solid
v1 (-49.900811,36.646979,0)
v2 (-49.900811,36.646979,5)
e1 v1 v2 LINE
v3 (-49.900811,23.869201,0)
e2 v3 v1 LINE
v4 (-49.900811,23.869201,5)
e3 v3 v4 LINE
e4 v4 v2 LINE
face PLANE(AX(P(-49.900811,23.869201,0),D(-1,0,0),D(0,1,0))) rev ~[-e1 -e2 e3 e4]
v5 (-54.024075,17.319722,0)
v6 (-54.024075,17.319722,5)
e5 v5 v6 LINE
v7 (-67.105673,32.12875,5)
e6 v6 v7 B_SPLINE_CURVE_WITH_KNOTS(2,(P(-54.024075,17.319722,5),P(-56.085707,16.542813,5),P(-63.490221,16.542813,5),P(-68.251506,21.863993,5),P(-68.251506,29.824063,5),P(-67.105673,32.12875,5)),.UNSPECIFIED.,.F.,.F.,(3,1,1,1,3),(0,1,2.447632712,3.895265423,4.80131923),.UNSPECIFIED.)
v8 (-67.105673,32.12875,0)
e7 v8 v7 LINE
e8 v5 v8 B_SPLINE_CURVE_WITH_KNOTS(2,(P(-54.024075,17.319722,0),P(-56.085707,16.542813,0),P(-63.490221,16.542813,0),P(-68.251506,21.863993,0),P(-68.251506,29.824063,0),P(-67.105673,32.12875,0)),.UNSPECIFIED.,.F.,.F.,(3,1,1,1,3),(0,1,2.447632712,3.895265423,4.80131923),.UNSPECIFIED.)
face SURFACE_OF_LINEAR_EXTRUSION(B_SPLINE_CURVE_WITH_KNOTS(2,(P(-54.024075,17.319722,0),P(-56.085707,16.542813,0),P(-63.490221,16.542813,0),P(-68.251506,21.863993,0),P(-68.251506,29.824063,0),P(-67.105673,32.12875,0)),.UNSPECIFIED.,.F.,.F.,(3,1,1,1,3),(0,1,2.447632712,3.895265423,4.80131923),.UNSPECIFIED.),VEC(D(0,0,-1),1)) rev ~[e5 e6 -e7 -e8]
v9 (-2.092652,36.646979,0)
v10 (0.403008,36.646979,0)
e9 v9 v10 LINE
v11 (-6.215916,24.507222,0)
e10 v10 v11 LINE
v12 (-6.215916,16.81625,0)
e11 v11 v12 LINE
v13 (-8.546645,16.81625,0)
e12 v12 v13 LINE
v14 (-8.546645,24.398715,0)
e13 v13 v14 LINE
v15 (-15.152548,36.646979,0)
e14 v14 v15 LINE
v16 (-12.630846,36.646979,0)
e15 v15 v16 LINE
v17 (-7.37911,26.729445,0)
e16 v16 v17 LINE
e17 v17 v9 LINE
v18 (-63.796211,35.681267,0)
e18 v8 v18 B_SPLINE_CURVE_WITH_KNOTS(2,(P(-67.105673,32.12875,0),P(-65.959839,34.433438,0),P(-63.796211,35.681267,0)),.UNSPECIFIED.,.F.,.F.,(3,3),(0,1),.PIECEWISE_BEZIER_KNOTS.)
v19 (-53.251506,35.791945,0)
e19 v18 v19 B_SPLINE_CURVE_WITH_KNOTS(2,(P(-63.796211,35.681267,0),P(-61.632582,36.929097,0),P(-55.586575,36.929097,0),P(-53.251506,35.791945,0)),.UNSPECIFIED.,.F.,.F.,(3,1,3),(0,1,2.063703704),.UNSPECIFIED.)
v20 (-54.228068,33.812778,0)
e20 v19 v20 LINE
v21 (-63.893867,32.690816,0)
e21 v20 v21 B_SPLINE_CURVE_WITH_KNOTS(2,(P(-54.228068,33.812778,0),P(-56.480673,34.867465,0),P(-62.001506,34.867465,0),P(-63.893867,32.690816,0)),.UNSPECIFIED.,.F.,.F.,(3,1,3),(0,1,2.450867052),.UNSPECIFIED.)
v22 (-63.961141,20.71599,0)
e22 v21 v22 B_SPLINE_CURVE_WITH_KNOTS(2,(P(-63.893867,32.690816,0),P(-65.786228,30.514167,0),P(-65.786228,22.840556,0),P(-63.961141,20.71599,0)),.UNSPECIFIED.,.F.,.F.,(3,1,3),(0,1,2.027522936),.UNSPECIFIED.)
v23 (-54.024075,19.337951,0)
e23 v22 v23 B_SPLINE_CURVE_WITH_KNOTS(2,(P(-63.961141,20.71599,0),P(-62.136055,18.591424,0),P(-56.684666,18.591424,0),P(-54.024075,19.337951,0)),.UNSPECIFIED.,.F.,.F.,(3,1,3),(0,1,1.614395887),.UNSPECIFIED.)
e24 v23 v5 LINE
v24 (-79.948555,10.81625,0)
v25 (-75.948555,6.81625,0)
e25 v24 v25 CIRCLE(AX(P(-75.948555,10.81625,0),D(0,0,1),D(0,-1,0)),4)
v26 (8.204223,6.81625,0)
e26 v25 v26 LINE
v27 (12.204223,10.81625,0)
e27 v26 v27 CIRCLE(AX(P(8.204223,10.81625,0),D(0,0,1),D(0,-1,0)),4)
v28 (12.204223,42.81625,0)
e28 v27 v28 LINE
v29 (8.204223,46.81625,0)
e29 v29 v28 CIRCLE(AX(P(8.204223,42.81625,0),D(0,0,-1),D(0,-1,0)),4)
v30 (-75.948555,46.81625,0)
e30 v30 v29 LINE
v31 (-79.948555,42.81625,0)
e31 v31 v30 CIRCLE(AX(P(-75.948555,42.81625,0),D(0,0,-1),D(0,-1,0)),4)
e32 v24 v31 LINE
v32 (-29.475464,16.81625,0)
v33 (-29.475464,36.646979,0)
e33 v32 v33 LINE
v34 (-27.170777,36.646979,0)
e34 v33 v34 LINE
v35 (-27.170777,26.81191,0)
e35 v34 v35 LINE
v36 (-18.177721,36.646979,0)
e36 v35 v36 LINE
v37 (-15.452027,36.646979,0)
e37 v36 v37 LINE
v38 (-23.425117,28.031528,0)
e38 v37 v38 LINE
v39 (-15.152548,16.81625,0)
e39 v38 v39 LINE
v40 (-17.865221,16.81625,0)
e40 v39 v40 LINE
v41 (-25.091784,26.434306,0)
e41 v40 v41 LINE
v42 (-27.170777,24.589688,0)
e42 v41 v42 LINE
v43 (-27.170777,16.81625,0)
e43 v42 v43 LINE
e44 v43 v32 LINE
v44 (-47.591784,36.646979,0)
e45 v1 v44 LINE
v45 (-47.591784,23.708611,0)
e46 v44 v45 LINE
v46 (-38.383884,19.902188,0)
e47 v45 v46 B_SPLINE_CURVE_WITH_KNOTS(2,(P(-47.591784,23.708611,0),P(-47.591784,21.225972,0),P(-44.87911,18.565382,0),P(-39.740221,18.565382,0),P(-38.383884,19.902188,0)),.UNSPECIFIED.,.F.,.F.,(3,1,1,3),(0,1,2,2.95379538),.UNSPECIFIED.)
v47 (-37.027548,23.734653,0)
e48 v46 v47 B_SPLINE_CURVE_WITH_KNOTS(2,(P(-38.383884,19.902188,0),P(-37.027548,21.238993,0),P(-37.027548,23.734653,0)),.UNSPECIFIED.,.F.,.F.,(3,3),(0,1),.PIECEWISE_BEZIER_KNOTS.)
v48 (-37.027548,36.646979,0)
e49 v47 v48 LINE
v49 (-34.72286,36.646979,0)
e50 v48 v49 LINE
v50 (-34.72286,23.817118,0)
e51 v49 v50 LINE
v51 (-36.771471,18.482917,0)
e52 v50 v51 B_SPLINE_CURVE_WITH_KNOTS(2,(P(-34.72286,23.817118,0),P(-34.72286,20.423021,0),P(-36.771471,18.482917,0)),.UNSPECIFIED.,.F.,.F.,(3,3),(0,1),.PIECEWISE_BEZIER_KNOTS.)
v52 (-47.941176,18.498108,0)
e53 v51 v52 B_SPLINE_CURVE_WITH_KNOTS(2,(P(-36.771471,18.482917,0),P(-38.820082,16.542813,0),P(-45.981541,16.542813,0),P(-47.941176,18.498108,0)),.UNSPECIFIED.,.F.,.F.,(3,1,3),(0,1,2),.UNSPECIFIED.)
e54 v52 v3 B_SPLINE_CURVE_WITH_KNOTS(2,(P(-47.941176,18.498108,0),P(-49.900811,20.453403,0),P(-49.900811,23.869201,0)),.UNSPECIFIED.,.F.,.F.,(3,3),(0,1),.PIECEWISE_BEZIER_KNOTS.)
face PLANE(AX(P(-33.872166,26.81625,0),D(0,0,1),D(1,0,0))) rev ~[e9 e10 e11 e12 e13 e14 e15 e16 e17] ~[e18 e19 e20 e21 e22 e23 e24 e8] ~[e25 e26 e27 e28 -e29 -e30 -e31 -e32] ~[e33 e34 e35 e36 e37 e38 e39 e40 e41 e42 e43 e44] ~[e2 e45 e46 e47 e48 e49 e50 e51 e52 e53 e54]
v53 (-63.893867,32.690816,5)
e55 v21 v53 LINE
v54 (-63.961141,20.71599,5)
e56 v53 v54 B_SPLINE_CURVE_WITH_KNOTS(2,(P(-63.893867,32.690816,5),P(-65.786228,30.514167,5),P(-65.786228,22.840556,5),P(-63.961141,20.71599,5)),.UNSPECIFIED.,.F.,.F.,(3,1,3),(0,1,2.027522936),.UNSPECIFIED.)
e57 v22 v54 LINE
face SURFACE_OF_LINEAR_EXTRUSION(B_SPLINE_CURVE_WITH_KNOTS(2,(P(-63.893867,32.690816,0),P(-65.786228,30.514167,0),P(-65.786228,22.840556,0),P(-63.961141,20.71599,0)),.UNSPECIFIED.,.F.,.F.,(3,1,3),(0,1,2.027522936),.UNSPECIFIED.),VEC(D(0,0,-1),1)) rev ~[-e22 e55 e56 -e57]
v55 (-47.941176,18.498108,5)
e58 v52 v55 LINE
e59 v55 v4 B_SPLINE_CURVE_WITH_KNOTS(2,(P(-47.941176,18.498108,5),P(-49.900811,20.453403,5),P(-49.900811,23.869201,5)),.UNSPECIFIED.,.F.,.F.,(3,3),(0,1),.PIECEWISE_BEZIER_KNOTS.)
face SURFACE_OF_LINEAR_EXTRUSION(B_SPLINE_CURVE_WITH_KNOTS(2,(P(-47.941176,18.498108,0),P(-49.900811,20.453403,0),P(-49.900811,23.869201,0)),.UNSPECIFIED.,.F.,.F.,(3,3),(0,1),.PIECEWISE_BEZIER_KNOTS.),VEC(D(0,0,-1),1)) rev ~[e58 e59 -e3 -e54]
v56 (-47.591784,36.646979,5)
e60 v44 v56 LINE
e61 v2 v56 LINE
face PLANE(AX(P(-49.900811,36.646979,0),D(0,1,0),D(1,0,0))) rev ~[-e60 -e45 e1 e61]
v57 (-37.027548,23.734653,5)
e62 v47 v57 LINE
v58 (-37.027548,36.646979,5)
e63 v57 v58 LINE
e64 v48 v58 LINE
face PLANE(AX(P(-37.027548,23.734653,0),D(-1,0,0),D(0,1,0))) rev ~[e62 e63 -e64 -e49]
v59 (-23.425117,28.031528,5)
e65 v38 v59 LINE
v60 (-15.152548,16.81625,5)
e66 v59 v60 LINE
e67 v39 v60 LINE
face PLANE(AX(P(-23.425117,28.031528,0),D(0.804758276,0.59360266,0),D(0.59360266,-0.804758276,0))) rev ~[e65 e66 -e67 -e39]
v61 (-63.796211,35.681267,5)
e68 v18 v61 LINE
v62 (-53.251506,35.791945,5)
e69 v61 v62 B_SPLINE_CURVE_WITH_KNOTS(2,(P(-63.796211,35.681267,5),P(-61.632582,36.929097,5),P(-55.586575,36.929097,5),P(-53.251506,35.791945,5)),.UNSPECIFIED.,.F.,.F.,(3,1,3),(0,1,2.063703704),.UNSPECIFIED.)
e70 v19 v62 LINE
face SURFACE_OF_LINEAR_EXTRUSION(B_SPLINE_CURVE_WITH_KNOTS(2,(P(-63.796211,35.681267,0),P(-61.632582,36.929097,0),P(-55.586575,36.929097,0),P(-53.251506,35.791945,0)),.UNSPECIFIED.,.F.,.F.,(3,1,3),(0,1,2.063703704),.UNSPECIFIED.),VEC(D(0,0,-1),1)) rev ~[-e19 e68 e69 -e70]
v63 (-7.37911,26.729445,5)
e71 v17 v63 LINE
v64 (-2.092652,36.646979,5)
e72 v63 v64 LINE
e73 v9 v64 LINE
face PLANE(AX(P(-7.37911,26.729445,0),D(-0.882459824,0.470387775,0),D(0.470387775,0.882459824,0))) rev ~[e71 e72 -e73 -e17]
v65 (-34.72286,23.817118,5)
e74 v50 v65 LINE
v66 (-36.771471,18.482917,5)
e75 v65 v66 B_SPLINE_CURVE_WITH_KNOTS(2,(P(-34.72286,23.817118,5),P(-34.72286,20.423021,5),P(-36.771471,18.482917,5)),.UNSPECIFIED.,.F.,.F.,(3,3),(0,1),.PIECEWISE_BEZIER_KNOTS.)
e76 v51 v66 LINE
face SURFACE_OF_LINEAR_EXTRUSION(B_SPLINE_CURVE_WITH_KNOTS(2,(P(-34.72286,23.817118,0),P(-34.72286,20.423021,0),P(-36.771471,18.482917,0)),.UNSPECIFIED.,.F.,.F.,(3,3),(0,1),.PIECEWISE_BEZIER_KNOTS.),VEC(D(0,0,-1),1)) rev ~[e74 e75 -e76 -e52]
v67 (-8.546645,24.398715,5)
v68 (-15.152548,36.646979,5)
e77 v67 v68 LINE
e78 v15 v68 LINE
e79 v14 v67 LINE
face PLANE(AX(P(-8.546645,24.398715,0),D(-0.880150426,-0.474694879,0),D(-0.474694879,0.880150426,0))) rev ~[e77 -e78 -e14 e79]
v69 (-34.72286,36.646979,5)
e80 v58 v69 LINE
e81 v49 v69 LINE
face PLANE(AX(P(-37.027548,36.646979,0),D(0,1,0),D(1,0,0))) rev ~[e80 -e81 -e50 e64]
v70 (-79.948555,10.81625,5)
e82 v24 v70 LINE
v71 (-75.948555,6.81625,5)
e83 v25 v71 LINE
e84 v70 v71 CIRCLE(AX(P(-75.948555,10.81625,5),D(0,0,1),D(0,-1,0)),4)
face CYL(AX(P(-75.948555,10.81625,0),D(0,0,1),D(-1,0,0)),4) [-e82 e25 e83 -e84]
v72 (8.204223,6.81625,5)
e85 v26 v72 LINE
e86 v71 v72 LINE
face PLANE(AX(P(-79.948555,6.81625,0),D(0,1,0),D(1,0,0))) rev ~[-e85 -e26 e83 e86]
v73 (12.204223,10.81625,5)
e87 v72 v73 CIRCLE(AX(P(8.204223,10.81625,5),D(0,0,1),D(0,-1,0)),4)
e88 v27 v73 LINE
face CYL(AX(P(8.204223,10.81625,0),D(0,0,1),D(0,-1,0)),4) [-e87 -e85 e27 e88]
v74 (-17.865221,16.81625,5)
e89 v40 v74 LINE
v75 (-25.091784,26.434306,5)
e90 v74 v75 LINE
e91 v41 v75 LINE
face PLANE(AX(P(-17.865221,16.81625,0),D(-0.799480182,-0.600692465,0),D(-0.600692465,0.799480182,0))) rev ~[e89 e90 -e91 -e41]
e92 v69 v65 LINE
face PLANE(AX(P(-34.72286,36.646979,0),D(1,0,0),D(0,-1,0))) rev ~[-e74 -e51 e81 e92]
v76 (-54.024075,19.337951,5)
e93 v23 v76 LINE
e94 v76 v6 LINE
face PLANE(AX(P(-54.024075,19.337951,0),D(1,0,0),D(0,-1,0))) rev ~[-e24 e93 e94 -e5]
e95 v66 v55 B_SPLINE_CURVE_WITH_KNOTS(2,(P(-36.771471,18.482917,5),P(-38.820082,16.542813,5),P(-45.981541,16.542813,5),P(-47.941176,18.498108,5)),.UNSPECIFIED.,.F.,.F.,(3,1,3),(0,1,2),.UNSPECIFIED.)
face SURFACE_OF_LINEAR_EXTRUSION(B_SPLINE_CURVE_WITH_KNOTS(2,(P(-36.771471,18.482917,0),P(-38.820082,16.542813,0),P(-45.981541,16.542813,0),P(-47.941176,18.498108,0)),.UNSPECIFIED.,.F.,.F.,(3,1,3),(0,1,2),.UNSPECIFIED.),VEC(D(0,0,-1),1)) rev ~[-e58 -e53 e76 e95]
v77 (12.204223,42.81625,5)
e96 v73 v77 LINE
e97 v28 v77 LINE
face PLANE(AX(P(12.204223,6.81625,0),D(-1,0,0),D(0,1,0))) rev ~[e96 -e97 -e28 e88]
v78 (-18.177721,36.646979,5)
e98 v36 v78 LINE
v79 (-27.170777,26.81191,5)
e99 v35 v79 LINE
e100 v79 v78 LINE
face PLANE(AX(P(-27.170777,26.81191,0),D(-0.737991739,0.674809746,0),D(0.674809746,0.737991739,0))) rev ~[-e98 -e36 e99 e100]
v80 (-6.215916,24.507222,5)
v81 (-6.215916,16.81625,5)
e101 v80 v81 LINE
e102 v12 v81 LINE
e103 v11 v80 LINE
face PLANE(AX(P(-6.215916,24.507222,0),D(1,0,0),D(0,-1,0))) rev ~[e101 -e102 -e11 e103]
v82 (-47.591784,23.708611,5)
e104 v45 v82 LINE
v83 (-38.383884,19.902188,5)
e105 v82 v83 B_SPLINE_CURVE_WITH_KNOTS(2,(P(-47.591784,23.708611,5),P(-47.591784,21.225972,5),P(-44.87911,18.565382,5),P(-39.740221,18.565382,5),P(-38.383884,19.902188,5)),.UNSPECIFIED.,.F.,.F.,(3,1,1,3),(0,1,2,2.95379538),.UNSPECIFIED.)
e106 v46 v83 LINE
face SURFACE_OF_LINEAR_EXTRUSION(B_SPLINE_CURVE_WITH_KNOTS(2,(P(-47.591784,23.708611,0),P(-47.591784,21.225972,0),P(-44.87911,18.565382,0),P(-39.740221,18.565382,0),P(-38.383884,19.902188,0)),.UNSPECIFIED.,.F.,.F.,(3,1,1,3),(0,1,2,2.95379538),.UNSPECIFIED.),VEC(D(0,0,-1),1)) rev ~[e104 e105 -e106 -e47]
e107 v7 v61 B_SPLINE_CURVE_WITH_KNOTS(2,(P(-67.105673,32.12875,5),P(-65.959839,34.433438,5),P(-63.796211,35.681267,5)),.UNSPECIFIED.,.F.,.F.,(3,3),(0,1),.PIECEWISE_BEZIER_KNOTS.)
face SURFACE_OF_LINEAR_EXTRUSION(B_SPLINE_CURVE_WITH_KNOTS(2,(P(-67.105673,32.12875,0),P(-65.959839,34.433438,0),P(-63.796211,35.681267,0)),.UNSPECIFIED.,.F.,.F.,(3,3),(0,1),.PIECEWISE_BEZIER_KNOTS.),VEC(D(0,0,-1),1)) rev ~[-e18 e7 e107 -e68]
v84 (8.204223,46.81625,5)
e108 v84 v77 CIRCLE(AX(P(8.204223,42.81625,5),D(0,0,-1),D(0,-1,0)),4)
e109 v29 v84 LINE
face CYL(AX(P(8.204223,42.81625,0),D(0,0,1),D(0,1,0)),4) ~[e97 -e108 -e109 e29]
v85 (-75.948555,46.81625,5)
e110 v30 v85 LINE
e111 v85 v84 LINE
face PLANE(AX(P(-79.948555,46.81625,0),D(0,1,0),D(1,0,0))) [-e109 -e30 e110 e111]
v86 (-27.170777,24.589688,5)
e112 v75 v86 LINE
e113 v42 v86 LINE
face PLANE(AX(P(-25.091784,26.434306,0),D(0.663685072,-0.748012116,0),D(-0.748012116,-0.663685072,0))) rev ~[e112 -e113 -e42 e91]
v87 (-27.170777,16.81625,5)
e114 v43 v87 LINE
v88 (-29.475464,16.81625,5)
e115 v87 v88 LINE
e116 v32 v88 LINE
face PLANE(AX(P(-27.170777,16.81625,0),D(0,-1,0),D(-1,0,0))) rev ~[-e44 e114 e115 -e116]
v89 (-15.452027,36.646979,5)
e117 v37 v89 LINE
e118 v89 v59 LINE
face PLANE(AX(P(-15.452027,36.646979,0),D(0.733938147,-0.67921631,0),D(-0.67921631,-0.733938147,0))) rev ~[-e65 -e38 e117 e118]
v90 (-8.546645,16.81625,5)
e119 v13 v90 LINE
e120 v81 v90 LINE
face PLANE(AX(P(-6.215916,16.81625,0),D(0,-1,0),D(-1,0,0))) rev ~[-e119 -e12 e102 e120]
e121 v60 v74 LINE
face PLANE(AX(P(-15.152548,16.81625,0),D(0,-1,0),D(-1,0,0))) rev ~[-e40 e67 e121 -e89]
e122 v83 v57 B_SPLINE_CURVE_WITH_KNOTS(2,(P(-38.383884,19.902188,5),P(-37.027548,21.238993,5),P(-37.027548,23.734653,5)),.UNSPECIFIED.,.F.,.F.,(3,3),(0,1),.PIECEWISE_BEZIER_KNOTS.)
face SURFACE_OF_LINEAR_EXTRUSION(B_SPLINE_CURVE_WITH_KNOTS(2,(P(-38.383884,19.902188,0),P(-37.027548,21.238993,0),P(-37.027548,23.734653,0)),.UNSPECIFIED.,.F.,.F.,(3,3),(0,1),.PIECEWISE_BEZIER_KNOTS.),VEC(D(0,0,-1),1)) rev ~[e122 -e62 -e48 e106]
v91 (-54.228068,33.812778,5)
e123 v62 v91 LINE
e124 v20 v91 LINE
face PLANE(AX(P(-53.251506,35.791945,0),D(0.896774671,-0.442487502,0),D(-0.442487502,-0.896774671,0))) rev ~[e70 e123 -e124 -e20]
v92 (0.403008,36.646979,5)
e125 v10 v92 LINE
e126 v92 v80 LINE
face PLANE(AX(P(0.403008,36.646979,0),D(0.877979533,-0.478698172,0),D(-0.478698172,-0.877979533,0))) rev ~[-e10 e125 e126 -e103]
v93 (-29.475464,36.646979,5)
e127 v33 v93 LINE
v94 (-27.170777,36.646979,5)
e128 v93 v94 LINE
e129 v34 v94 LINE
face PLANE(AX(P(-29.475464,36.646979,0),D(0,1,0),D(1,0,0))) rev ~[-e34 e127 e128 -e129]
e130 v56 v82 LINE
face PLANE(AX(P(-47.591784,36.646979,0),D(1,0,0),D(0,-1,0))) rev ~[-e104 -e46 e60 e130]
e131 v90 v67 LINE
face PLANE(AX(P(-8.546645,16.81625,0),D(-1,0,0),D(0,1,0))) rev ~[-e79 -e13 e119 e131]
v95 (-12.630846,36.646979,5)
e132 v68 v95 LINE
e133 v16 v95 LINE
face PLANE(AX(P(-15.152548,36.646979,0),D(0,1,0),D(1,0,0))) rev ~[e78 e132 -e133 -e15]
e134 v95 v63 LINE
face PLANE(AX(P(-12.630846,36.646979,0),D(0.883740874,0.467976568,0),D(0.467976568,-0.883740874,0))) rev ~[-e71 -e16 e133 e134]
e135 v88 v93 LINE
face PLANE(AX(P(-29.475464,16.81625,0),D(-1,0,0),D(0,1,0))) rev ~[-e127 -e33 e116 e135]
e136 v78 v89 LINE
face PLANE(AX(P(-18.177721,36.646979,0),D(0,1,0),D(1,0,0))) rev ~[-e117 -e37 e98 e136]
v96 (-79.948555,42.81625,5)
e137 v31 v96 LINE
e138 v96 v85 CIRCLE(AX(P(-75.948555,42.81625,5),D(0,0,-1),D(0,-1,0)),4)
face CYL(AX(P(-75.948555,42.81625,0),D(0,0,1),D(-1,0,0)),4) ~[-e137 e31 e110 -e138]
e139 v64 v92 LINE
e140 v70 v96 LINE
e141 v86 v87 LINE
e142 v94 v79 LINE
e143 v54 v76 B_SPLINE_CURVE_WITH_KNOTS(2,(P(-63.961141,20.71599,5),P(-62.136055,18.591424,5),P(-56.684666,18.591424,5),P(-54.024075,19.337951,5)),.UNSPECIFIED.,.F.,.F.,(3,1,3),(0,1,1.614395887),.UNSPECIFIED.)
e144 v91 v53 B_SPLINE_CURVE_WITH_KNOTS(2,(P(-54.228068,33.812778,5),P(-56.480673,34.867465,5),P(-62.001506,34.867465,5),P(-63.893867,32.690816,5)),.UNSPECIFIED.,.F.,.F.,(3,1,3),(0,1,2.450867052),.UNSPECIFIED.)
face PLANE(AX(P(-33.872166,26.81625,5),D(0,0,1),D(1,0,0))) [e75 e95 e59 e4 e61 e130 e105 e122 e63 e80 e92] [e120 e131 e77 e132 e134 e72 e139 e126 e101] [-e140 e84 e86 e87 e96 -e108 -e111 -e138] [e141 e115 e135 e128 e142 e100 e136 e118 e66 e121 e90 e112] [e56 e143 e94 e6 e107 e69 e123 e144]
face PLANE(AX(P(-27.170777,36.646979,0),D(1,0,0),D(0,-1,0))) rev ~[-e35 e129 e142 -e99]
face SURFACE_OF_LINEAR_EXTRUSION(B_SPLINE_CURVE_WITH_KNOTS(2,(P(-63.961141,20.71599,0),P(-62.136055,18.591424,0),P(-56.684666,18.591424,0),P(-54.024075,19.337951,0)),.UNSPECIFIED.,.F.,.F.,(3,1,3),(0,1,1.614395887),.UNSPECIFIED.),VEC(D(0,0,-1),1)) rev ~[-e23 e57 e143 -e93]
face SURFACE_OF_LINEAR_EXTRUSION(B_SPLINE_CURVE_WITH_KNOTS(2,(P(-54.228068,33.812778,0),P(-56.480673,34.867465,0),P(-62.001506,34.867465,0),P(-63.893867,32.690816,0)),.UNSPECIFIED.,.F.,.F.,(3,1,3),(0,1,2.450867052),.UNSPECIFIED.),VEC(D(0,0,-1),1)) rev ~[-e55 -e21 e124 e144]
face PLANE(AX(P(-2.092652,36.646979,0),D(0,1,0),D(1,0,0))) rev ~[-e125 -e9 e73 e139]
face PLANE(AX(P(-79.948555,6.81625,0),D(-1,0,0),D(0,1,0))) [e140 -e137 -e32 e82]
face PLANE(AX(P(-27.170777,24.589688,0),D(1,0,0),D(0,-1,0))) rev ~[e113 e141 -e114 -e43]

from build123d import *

# Parameters (mm, degrees)
F0_W     = 92.1527777778
F0_H     = 40
F1_DEPTH = 5
F2_R     = 4


with BuildPart() as f1:
    # F0 (on Top) → F1 (new body)
    with BuildSketch(Plane.XY):
        with Locations((-33.8721656561, 26.8162500644)):
            Rectangle(F0_W, F0_H)
        with BuildLine():
            add(Edge.make_bspline(
                [(-54.2280684339, 33.8127778422), (-56.4806726005, 34.8674653422), (-58.7332767672, 34.8674653422)],
                knots=[0, 0, 0, 1, 1, 1], degree=2))
            add(Edge.make_bspline(
                [(-58.7332767672, 34.8674653422), (-62.0015059339, 34.8674653422), (-63.893867045, 32.6908160367)],
                knots=[0, 0, 0, 1, 1, 1], degree=2))
            add(Edge.make_bspline(
                [(-63.893867045, 32.6908160367), (-65.7862281561, 30.5141667311), (-65.7862281561, 26.7294445089)],
                knots=[0, 0, 0, 1, 1, 1], degree=2))
            add(Edge.make_bspline(
                [(-65.7862281561, 26.7294445089), (-65.7862281561, 22.84055562), (-63.9611413505, 20.7159896478)],
                knots=[0, 0, 0, 1, 1, 1], degree=2))
            add(Edge.make_bspline(
                [(-63.9611413505, 20.7159896478), (-62.136054545, 18.5914236756), (-58.7593184339, 18.5914236756)],
                knots=[0, 0, 0, 1, 1, 1], degree=2))
            add(Edge.make_bspline(
                [(-58.7593184339, 18.5914236756), (-56.6846656561, 18.5914236756), (-54.0240753783, 19.3379514533)],
                knots=[0, 0, 0, 1, 1, 1], degree=2))
            Line((-54.0240753783, 19.3379514533), (-54.0240753783, 17.3197222867))
            add(Edge.make_bspline(
                [(-54.0240753783, 17.3197222867), (-56.0857073228, 16.5428125644), (-59.1108809339, 16.5428125644)],
                knots=[0, 0, 0, 1, 1, 1], degree=2))
            add(Edge.make_bspline(
                [(-59.1108809339, 16.5428125644), (-63.4902212117, 16.5428125644), (-65.8708635728, 19.2034028422)],
                knots=[0, 0, 0, 1, 1, 1], degree=2))
            add(Edge.make_bspline(
                [(-65.8708635728, 19.2034028422), (-68.2515059339, 21.86399312), (-68.2515059339, 26.7598264533)],
                knots=[0, 0, 0, 1, 1, 1], degree=2))
            add(Edge.make_bspline(
                [(-68.2515059339, 26.7598264533), (-68.2515059339, 29.8240625644), (-67.1056726005, 32.1287500644)],
                knots=[0, 0, 0, 1, 1, 1], degree=2))
            add(Edge.make_bspline(
                [(-67.1056726005, 32.1287500644), (-65.9598392672, 34.4334375644), (-63.796210795, 35.6812674256)],
                knots=[0, 0, 0, 1, 1, 1], degree=2))
            add(Edge.make_bspline(
                [(-63.796210795, 35.6812674256), (-61.6325823228, 36.9290972867), (-58.7028948228, 36.9290972867)],
                knots=[0, 0, 0, 1, 1, 1], degree=2))
            add(Edge.make_bspline(
                [(-58.7028948228, 36.9290972867), (-55.5865753783, 36.9290972867), (-53.2515059339, 35.7919445089)],
                knots=[0, 0, 0, 1, 1, 1], degree=2))
            Line((-53.2515059339, 35.7919445089), (-54.2280684339, 33.8127778422))
        make_face(mode=Mode.SUBTRACT)
        with BuildLine():
            Line((-37.0275476005, 36.6469792311), (-34.7228601005, 36.6469792311))
            Line((-34.7228601005, 36.6469792311), (-34.7228601005, 23.81711812))
            add(Edge.make_bspline(
                [(-34.7228601005, 23.81711812), (-34.7228601005, 20.4230208978), (-36.7714712117, 18.4829167311)],
                knots=[0, 0, 0, 1, 1, 1], degree=2))
            add(Edge.make_bspline(
                [(-36.7714712117, 18.4829167311), (-38.8200823228, 16.5428125644), (-42.4008114894, 16.5428125644)],
                knots=[0, 0, 0, 1, 1, 1], degree=2))
            add(Edge.make_bspline(
                [(-42.4008114894, 16.5428125644), (-45.9815406561, 16.5428125644), (-47.9411760728, 18.4981077033)],
                knots=[0, 0, 0, 1, 1, 1], degree=2))
            add(Edge.make_bspline(
                [(-47.9411760728, 18.4981077033), (-49.9008114894, 20.4534028422), (-49.9008114894, 23.8692014533)],
                knots=[0, 0, 0, 1, 1, 1], degree=2))
            Line((-49.9008114894, 23.8692014533), (-49.9008114894, 36.6469792311))
            Line((-49.9008114894, 36.6469792311), (-47.5917837117, 36.6469792311))
            Line((-47.5917837117, 36.6469792311), (-47.5917837117, 23.7086111756))
            add(Edge.make_bspline(
                [(-47.5917837117, 23.7086111756), (-47.5917837117, 21.2259722867), (-46.2354469061, 19.8956771478)],
                knots=[0, 0, 0, 1, 1, 1], degree=2))
            add(Edge.make_bspline(
                [(-46.2354469061, 19.8956771478), (-44.8791101005, 18.5653820089), (-42.2489017672, 18.5653820089)],
                knots=[0, 0, 0, 1, 1, 1], degree=2))
            add(Edge.make_bspline(
                [(-42.2489017672, 18.5653820089), (-39.7402212117, 18.5653820089), (-38.3838844061, 19.9021875644)],
                knots=[0, 0, 0, 1, 1, 1], degree=2))
            add(Edge.make_bspline(
                [(-38.3838844061, 19.9021875644), (-37.0275476005, 21.23899312), (-37.0275476005, 23.7346528422)],
                knots=[0, 0, 0, 1, 1, 1], degree=2))
            Line((-37.0275476005, 23.7346528422), (-37.0275476005, 36.6469792311))
        make_face(mode=Mode.SUBTRACT)
        Polygon((-23.425117045, 28.0315278422), (-15.1525476005, 16.8162500644), (-17.8652212117, 16.8162500644), (-25.0917837117, 26.43430562), (-27.1707767672, 24.5896875644), (-27.1707767672, 16.8162500644), (-29.4754642672, 16.8162500644), (-29.4754642672, 36.6469792311), (-27.1707767672, 36.6469792311), (-27.1707767672, 26.8119097867), (-18.1777212117, 36.6469792311), (-15.4520267672, 36.6469792311), align=None, mode=Mode.SUBTRACT)
        Polygon((-12.6308462117, 36.6469792311), (-7.3791101005, 26.7294445089), (-2.0926517672, 36.6469792311), (0.403007955, 36.6469792311), (-6.2159156561, 24.5072222867), (-6.2159156561, 16.8162500644), (-8.5466448228, 16.8162500644), (-8.5466448228, 24.3987153422), (-15.1525476005, 36.6469792311), align=None, mode=Mode.SUBTRACT)
    extrude(amount=F1_DEPTH)

    # F2
    f2_edges = [f1.edges().sort_by_distance(p)[0] for p in [
        (-79.948555, 46.81625, 2.5),
        (-79.948555, 6.81625, 2.5),
        (12.204223, 6.81625, 2.5),
        (12.204223, 46.81625, 2.5),
    ]]
    fillet(f2_edges, radius=F2_R)


solid = f1.part
